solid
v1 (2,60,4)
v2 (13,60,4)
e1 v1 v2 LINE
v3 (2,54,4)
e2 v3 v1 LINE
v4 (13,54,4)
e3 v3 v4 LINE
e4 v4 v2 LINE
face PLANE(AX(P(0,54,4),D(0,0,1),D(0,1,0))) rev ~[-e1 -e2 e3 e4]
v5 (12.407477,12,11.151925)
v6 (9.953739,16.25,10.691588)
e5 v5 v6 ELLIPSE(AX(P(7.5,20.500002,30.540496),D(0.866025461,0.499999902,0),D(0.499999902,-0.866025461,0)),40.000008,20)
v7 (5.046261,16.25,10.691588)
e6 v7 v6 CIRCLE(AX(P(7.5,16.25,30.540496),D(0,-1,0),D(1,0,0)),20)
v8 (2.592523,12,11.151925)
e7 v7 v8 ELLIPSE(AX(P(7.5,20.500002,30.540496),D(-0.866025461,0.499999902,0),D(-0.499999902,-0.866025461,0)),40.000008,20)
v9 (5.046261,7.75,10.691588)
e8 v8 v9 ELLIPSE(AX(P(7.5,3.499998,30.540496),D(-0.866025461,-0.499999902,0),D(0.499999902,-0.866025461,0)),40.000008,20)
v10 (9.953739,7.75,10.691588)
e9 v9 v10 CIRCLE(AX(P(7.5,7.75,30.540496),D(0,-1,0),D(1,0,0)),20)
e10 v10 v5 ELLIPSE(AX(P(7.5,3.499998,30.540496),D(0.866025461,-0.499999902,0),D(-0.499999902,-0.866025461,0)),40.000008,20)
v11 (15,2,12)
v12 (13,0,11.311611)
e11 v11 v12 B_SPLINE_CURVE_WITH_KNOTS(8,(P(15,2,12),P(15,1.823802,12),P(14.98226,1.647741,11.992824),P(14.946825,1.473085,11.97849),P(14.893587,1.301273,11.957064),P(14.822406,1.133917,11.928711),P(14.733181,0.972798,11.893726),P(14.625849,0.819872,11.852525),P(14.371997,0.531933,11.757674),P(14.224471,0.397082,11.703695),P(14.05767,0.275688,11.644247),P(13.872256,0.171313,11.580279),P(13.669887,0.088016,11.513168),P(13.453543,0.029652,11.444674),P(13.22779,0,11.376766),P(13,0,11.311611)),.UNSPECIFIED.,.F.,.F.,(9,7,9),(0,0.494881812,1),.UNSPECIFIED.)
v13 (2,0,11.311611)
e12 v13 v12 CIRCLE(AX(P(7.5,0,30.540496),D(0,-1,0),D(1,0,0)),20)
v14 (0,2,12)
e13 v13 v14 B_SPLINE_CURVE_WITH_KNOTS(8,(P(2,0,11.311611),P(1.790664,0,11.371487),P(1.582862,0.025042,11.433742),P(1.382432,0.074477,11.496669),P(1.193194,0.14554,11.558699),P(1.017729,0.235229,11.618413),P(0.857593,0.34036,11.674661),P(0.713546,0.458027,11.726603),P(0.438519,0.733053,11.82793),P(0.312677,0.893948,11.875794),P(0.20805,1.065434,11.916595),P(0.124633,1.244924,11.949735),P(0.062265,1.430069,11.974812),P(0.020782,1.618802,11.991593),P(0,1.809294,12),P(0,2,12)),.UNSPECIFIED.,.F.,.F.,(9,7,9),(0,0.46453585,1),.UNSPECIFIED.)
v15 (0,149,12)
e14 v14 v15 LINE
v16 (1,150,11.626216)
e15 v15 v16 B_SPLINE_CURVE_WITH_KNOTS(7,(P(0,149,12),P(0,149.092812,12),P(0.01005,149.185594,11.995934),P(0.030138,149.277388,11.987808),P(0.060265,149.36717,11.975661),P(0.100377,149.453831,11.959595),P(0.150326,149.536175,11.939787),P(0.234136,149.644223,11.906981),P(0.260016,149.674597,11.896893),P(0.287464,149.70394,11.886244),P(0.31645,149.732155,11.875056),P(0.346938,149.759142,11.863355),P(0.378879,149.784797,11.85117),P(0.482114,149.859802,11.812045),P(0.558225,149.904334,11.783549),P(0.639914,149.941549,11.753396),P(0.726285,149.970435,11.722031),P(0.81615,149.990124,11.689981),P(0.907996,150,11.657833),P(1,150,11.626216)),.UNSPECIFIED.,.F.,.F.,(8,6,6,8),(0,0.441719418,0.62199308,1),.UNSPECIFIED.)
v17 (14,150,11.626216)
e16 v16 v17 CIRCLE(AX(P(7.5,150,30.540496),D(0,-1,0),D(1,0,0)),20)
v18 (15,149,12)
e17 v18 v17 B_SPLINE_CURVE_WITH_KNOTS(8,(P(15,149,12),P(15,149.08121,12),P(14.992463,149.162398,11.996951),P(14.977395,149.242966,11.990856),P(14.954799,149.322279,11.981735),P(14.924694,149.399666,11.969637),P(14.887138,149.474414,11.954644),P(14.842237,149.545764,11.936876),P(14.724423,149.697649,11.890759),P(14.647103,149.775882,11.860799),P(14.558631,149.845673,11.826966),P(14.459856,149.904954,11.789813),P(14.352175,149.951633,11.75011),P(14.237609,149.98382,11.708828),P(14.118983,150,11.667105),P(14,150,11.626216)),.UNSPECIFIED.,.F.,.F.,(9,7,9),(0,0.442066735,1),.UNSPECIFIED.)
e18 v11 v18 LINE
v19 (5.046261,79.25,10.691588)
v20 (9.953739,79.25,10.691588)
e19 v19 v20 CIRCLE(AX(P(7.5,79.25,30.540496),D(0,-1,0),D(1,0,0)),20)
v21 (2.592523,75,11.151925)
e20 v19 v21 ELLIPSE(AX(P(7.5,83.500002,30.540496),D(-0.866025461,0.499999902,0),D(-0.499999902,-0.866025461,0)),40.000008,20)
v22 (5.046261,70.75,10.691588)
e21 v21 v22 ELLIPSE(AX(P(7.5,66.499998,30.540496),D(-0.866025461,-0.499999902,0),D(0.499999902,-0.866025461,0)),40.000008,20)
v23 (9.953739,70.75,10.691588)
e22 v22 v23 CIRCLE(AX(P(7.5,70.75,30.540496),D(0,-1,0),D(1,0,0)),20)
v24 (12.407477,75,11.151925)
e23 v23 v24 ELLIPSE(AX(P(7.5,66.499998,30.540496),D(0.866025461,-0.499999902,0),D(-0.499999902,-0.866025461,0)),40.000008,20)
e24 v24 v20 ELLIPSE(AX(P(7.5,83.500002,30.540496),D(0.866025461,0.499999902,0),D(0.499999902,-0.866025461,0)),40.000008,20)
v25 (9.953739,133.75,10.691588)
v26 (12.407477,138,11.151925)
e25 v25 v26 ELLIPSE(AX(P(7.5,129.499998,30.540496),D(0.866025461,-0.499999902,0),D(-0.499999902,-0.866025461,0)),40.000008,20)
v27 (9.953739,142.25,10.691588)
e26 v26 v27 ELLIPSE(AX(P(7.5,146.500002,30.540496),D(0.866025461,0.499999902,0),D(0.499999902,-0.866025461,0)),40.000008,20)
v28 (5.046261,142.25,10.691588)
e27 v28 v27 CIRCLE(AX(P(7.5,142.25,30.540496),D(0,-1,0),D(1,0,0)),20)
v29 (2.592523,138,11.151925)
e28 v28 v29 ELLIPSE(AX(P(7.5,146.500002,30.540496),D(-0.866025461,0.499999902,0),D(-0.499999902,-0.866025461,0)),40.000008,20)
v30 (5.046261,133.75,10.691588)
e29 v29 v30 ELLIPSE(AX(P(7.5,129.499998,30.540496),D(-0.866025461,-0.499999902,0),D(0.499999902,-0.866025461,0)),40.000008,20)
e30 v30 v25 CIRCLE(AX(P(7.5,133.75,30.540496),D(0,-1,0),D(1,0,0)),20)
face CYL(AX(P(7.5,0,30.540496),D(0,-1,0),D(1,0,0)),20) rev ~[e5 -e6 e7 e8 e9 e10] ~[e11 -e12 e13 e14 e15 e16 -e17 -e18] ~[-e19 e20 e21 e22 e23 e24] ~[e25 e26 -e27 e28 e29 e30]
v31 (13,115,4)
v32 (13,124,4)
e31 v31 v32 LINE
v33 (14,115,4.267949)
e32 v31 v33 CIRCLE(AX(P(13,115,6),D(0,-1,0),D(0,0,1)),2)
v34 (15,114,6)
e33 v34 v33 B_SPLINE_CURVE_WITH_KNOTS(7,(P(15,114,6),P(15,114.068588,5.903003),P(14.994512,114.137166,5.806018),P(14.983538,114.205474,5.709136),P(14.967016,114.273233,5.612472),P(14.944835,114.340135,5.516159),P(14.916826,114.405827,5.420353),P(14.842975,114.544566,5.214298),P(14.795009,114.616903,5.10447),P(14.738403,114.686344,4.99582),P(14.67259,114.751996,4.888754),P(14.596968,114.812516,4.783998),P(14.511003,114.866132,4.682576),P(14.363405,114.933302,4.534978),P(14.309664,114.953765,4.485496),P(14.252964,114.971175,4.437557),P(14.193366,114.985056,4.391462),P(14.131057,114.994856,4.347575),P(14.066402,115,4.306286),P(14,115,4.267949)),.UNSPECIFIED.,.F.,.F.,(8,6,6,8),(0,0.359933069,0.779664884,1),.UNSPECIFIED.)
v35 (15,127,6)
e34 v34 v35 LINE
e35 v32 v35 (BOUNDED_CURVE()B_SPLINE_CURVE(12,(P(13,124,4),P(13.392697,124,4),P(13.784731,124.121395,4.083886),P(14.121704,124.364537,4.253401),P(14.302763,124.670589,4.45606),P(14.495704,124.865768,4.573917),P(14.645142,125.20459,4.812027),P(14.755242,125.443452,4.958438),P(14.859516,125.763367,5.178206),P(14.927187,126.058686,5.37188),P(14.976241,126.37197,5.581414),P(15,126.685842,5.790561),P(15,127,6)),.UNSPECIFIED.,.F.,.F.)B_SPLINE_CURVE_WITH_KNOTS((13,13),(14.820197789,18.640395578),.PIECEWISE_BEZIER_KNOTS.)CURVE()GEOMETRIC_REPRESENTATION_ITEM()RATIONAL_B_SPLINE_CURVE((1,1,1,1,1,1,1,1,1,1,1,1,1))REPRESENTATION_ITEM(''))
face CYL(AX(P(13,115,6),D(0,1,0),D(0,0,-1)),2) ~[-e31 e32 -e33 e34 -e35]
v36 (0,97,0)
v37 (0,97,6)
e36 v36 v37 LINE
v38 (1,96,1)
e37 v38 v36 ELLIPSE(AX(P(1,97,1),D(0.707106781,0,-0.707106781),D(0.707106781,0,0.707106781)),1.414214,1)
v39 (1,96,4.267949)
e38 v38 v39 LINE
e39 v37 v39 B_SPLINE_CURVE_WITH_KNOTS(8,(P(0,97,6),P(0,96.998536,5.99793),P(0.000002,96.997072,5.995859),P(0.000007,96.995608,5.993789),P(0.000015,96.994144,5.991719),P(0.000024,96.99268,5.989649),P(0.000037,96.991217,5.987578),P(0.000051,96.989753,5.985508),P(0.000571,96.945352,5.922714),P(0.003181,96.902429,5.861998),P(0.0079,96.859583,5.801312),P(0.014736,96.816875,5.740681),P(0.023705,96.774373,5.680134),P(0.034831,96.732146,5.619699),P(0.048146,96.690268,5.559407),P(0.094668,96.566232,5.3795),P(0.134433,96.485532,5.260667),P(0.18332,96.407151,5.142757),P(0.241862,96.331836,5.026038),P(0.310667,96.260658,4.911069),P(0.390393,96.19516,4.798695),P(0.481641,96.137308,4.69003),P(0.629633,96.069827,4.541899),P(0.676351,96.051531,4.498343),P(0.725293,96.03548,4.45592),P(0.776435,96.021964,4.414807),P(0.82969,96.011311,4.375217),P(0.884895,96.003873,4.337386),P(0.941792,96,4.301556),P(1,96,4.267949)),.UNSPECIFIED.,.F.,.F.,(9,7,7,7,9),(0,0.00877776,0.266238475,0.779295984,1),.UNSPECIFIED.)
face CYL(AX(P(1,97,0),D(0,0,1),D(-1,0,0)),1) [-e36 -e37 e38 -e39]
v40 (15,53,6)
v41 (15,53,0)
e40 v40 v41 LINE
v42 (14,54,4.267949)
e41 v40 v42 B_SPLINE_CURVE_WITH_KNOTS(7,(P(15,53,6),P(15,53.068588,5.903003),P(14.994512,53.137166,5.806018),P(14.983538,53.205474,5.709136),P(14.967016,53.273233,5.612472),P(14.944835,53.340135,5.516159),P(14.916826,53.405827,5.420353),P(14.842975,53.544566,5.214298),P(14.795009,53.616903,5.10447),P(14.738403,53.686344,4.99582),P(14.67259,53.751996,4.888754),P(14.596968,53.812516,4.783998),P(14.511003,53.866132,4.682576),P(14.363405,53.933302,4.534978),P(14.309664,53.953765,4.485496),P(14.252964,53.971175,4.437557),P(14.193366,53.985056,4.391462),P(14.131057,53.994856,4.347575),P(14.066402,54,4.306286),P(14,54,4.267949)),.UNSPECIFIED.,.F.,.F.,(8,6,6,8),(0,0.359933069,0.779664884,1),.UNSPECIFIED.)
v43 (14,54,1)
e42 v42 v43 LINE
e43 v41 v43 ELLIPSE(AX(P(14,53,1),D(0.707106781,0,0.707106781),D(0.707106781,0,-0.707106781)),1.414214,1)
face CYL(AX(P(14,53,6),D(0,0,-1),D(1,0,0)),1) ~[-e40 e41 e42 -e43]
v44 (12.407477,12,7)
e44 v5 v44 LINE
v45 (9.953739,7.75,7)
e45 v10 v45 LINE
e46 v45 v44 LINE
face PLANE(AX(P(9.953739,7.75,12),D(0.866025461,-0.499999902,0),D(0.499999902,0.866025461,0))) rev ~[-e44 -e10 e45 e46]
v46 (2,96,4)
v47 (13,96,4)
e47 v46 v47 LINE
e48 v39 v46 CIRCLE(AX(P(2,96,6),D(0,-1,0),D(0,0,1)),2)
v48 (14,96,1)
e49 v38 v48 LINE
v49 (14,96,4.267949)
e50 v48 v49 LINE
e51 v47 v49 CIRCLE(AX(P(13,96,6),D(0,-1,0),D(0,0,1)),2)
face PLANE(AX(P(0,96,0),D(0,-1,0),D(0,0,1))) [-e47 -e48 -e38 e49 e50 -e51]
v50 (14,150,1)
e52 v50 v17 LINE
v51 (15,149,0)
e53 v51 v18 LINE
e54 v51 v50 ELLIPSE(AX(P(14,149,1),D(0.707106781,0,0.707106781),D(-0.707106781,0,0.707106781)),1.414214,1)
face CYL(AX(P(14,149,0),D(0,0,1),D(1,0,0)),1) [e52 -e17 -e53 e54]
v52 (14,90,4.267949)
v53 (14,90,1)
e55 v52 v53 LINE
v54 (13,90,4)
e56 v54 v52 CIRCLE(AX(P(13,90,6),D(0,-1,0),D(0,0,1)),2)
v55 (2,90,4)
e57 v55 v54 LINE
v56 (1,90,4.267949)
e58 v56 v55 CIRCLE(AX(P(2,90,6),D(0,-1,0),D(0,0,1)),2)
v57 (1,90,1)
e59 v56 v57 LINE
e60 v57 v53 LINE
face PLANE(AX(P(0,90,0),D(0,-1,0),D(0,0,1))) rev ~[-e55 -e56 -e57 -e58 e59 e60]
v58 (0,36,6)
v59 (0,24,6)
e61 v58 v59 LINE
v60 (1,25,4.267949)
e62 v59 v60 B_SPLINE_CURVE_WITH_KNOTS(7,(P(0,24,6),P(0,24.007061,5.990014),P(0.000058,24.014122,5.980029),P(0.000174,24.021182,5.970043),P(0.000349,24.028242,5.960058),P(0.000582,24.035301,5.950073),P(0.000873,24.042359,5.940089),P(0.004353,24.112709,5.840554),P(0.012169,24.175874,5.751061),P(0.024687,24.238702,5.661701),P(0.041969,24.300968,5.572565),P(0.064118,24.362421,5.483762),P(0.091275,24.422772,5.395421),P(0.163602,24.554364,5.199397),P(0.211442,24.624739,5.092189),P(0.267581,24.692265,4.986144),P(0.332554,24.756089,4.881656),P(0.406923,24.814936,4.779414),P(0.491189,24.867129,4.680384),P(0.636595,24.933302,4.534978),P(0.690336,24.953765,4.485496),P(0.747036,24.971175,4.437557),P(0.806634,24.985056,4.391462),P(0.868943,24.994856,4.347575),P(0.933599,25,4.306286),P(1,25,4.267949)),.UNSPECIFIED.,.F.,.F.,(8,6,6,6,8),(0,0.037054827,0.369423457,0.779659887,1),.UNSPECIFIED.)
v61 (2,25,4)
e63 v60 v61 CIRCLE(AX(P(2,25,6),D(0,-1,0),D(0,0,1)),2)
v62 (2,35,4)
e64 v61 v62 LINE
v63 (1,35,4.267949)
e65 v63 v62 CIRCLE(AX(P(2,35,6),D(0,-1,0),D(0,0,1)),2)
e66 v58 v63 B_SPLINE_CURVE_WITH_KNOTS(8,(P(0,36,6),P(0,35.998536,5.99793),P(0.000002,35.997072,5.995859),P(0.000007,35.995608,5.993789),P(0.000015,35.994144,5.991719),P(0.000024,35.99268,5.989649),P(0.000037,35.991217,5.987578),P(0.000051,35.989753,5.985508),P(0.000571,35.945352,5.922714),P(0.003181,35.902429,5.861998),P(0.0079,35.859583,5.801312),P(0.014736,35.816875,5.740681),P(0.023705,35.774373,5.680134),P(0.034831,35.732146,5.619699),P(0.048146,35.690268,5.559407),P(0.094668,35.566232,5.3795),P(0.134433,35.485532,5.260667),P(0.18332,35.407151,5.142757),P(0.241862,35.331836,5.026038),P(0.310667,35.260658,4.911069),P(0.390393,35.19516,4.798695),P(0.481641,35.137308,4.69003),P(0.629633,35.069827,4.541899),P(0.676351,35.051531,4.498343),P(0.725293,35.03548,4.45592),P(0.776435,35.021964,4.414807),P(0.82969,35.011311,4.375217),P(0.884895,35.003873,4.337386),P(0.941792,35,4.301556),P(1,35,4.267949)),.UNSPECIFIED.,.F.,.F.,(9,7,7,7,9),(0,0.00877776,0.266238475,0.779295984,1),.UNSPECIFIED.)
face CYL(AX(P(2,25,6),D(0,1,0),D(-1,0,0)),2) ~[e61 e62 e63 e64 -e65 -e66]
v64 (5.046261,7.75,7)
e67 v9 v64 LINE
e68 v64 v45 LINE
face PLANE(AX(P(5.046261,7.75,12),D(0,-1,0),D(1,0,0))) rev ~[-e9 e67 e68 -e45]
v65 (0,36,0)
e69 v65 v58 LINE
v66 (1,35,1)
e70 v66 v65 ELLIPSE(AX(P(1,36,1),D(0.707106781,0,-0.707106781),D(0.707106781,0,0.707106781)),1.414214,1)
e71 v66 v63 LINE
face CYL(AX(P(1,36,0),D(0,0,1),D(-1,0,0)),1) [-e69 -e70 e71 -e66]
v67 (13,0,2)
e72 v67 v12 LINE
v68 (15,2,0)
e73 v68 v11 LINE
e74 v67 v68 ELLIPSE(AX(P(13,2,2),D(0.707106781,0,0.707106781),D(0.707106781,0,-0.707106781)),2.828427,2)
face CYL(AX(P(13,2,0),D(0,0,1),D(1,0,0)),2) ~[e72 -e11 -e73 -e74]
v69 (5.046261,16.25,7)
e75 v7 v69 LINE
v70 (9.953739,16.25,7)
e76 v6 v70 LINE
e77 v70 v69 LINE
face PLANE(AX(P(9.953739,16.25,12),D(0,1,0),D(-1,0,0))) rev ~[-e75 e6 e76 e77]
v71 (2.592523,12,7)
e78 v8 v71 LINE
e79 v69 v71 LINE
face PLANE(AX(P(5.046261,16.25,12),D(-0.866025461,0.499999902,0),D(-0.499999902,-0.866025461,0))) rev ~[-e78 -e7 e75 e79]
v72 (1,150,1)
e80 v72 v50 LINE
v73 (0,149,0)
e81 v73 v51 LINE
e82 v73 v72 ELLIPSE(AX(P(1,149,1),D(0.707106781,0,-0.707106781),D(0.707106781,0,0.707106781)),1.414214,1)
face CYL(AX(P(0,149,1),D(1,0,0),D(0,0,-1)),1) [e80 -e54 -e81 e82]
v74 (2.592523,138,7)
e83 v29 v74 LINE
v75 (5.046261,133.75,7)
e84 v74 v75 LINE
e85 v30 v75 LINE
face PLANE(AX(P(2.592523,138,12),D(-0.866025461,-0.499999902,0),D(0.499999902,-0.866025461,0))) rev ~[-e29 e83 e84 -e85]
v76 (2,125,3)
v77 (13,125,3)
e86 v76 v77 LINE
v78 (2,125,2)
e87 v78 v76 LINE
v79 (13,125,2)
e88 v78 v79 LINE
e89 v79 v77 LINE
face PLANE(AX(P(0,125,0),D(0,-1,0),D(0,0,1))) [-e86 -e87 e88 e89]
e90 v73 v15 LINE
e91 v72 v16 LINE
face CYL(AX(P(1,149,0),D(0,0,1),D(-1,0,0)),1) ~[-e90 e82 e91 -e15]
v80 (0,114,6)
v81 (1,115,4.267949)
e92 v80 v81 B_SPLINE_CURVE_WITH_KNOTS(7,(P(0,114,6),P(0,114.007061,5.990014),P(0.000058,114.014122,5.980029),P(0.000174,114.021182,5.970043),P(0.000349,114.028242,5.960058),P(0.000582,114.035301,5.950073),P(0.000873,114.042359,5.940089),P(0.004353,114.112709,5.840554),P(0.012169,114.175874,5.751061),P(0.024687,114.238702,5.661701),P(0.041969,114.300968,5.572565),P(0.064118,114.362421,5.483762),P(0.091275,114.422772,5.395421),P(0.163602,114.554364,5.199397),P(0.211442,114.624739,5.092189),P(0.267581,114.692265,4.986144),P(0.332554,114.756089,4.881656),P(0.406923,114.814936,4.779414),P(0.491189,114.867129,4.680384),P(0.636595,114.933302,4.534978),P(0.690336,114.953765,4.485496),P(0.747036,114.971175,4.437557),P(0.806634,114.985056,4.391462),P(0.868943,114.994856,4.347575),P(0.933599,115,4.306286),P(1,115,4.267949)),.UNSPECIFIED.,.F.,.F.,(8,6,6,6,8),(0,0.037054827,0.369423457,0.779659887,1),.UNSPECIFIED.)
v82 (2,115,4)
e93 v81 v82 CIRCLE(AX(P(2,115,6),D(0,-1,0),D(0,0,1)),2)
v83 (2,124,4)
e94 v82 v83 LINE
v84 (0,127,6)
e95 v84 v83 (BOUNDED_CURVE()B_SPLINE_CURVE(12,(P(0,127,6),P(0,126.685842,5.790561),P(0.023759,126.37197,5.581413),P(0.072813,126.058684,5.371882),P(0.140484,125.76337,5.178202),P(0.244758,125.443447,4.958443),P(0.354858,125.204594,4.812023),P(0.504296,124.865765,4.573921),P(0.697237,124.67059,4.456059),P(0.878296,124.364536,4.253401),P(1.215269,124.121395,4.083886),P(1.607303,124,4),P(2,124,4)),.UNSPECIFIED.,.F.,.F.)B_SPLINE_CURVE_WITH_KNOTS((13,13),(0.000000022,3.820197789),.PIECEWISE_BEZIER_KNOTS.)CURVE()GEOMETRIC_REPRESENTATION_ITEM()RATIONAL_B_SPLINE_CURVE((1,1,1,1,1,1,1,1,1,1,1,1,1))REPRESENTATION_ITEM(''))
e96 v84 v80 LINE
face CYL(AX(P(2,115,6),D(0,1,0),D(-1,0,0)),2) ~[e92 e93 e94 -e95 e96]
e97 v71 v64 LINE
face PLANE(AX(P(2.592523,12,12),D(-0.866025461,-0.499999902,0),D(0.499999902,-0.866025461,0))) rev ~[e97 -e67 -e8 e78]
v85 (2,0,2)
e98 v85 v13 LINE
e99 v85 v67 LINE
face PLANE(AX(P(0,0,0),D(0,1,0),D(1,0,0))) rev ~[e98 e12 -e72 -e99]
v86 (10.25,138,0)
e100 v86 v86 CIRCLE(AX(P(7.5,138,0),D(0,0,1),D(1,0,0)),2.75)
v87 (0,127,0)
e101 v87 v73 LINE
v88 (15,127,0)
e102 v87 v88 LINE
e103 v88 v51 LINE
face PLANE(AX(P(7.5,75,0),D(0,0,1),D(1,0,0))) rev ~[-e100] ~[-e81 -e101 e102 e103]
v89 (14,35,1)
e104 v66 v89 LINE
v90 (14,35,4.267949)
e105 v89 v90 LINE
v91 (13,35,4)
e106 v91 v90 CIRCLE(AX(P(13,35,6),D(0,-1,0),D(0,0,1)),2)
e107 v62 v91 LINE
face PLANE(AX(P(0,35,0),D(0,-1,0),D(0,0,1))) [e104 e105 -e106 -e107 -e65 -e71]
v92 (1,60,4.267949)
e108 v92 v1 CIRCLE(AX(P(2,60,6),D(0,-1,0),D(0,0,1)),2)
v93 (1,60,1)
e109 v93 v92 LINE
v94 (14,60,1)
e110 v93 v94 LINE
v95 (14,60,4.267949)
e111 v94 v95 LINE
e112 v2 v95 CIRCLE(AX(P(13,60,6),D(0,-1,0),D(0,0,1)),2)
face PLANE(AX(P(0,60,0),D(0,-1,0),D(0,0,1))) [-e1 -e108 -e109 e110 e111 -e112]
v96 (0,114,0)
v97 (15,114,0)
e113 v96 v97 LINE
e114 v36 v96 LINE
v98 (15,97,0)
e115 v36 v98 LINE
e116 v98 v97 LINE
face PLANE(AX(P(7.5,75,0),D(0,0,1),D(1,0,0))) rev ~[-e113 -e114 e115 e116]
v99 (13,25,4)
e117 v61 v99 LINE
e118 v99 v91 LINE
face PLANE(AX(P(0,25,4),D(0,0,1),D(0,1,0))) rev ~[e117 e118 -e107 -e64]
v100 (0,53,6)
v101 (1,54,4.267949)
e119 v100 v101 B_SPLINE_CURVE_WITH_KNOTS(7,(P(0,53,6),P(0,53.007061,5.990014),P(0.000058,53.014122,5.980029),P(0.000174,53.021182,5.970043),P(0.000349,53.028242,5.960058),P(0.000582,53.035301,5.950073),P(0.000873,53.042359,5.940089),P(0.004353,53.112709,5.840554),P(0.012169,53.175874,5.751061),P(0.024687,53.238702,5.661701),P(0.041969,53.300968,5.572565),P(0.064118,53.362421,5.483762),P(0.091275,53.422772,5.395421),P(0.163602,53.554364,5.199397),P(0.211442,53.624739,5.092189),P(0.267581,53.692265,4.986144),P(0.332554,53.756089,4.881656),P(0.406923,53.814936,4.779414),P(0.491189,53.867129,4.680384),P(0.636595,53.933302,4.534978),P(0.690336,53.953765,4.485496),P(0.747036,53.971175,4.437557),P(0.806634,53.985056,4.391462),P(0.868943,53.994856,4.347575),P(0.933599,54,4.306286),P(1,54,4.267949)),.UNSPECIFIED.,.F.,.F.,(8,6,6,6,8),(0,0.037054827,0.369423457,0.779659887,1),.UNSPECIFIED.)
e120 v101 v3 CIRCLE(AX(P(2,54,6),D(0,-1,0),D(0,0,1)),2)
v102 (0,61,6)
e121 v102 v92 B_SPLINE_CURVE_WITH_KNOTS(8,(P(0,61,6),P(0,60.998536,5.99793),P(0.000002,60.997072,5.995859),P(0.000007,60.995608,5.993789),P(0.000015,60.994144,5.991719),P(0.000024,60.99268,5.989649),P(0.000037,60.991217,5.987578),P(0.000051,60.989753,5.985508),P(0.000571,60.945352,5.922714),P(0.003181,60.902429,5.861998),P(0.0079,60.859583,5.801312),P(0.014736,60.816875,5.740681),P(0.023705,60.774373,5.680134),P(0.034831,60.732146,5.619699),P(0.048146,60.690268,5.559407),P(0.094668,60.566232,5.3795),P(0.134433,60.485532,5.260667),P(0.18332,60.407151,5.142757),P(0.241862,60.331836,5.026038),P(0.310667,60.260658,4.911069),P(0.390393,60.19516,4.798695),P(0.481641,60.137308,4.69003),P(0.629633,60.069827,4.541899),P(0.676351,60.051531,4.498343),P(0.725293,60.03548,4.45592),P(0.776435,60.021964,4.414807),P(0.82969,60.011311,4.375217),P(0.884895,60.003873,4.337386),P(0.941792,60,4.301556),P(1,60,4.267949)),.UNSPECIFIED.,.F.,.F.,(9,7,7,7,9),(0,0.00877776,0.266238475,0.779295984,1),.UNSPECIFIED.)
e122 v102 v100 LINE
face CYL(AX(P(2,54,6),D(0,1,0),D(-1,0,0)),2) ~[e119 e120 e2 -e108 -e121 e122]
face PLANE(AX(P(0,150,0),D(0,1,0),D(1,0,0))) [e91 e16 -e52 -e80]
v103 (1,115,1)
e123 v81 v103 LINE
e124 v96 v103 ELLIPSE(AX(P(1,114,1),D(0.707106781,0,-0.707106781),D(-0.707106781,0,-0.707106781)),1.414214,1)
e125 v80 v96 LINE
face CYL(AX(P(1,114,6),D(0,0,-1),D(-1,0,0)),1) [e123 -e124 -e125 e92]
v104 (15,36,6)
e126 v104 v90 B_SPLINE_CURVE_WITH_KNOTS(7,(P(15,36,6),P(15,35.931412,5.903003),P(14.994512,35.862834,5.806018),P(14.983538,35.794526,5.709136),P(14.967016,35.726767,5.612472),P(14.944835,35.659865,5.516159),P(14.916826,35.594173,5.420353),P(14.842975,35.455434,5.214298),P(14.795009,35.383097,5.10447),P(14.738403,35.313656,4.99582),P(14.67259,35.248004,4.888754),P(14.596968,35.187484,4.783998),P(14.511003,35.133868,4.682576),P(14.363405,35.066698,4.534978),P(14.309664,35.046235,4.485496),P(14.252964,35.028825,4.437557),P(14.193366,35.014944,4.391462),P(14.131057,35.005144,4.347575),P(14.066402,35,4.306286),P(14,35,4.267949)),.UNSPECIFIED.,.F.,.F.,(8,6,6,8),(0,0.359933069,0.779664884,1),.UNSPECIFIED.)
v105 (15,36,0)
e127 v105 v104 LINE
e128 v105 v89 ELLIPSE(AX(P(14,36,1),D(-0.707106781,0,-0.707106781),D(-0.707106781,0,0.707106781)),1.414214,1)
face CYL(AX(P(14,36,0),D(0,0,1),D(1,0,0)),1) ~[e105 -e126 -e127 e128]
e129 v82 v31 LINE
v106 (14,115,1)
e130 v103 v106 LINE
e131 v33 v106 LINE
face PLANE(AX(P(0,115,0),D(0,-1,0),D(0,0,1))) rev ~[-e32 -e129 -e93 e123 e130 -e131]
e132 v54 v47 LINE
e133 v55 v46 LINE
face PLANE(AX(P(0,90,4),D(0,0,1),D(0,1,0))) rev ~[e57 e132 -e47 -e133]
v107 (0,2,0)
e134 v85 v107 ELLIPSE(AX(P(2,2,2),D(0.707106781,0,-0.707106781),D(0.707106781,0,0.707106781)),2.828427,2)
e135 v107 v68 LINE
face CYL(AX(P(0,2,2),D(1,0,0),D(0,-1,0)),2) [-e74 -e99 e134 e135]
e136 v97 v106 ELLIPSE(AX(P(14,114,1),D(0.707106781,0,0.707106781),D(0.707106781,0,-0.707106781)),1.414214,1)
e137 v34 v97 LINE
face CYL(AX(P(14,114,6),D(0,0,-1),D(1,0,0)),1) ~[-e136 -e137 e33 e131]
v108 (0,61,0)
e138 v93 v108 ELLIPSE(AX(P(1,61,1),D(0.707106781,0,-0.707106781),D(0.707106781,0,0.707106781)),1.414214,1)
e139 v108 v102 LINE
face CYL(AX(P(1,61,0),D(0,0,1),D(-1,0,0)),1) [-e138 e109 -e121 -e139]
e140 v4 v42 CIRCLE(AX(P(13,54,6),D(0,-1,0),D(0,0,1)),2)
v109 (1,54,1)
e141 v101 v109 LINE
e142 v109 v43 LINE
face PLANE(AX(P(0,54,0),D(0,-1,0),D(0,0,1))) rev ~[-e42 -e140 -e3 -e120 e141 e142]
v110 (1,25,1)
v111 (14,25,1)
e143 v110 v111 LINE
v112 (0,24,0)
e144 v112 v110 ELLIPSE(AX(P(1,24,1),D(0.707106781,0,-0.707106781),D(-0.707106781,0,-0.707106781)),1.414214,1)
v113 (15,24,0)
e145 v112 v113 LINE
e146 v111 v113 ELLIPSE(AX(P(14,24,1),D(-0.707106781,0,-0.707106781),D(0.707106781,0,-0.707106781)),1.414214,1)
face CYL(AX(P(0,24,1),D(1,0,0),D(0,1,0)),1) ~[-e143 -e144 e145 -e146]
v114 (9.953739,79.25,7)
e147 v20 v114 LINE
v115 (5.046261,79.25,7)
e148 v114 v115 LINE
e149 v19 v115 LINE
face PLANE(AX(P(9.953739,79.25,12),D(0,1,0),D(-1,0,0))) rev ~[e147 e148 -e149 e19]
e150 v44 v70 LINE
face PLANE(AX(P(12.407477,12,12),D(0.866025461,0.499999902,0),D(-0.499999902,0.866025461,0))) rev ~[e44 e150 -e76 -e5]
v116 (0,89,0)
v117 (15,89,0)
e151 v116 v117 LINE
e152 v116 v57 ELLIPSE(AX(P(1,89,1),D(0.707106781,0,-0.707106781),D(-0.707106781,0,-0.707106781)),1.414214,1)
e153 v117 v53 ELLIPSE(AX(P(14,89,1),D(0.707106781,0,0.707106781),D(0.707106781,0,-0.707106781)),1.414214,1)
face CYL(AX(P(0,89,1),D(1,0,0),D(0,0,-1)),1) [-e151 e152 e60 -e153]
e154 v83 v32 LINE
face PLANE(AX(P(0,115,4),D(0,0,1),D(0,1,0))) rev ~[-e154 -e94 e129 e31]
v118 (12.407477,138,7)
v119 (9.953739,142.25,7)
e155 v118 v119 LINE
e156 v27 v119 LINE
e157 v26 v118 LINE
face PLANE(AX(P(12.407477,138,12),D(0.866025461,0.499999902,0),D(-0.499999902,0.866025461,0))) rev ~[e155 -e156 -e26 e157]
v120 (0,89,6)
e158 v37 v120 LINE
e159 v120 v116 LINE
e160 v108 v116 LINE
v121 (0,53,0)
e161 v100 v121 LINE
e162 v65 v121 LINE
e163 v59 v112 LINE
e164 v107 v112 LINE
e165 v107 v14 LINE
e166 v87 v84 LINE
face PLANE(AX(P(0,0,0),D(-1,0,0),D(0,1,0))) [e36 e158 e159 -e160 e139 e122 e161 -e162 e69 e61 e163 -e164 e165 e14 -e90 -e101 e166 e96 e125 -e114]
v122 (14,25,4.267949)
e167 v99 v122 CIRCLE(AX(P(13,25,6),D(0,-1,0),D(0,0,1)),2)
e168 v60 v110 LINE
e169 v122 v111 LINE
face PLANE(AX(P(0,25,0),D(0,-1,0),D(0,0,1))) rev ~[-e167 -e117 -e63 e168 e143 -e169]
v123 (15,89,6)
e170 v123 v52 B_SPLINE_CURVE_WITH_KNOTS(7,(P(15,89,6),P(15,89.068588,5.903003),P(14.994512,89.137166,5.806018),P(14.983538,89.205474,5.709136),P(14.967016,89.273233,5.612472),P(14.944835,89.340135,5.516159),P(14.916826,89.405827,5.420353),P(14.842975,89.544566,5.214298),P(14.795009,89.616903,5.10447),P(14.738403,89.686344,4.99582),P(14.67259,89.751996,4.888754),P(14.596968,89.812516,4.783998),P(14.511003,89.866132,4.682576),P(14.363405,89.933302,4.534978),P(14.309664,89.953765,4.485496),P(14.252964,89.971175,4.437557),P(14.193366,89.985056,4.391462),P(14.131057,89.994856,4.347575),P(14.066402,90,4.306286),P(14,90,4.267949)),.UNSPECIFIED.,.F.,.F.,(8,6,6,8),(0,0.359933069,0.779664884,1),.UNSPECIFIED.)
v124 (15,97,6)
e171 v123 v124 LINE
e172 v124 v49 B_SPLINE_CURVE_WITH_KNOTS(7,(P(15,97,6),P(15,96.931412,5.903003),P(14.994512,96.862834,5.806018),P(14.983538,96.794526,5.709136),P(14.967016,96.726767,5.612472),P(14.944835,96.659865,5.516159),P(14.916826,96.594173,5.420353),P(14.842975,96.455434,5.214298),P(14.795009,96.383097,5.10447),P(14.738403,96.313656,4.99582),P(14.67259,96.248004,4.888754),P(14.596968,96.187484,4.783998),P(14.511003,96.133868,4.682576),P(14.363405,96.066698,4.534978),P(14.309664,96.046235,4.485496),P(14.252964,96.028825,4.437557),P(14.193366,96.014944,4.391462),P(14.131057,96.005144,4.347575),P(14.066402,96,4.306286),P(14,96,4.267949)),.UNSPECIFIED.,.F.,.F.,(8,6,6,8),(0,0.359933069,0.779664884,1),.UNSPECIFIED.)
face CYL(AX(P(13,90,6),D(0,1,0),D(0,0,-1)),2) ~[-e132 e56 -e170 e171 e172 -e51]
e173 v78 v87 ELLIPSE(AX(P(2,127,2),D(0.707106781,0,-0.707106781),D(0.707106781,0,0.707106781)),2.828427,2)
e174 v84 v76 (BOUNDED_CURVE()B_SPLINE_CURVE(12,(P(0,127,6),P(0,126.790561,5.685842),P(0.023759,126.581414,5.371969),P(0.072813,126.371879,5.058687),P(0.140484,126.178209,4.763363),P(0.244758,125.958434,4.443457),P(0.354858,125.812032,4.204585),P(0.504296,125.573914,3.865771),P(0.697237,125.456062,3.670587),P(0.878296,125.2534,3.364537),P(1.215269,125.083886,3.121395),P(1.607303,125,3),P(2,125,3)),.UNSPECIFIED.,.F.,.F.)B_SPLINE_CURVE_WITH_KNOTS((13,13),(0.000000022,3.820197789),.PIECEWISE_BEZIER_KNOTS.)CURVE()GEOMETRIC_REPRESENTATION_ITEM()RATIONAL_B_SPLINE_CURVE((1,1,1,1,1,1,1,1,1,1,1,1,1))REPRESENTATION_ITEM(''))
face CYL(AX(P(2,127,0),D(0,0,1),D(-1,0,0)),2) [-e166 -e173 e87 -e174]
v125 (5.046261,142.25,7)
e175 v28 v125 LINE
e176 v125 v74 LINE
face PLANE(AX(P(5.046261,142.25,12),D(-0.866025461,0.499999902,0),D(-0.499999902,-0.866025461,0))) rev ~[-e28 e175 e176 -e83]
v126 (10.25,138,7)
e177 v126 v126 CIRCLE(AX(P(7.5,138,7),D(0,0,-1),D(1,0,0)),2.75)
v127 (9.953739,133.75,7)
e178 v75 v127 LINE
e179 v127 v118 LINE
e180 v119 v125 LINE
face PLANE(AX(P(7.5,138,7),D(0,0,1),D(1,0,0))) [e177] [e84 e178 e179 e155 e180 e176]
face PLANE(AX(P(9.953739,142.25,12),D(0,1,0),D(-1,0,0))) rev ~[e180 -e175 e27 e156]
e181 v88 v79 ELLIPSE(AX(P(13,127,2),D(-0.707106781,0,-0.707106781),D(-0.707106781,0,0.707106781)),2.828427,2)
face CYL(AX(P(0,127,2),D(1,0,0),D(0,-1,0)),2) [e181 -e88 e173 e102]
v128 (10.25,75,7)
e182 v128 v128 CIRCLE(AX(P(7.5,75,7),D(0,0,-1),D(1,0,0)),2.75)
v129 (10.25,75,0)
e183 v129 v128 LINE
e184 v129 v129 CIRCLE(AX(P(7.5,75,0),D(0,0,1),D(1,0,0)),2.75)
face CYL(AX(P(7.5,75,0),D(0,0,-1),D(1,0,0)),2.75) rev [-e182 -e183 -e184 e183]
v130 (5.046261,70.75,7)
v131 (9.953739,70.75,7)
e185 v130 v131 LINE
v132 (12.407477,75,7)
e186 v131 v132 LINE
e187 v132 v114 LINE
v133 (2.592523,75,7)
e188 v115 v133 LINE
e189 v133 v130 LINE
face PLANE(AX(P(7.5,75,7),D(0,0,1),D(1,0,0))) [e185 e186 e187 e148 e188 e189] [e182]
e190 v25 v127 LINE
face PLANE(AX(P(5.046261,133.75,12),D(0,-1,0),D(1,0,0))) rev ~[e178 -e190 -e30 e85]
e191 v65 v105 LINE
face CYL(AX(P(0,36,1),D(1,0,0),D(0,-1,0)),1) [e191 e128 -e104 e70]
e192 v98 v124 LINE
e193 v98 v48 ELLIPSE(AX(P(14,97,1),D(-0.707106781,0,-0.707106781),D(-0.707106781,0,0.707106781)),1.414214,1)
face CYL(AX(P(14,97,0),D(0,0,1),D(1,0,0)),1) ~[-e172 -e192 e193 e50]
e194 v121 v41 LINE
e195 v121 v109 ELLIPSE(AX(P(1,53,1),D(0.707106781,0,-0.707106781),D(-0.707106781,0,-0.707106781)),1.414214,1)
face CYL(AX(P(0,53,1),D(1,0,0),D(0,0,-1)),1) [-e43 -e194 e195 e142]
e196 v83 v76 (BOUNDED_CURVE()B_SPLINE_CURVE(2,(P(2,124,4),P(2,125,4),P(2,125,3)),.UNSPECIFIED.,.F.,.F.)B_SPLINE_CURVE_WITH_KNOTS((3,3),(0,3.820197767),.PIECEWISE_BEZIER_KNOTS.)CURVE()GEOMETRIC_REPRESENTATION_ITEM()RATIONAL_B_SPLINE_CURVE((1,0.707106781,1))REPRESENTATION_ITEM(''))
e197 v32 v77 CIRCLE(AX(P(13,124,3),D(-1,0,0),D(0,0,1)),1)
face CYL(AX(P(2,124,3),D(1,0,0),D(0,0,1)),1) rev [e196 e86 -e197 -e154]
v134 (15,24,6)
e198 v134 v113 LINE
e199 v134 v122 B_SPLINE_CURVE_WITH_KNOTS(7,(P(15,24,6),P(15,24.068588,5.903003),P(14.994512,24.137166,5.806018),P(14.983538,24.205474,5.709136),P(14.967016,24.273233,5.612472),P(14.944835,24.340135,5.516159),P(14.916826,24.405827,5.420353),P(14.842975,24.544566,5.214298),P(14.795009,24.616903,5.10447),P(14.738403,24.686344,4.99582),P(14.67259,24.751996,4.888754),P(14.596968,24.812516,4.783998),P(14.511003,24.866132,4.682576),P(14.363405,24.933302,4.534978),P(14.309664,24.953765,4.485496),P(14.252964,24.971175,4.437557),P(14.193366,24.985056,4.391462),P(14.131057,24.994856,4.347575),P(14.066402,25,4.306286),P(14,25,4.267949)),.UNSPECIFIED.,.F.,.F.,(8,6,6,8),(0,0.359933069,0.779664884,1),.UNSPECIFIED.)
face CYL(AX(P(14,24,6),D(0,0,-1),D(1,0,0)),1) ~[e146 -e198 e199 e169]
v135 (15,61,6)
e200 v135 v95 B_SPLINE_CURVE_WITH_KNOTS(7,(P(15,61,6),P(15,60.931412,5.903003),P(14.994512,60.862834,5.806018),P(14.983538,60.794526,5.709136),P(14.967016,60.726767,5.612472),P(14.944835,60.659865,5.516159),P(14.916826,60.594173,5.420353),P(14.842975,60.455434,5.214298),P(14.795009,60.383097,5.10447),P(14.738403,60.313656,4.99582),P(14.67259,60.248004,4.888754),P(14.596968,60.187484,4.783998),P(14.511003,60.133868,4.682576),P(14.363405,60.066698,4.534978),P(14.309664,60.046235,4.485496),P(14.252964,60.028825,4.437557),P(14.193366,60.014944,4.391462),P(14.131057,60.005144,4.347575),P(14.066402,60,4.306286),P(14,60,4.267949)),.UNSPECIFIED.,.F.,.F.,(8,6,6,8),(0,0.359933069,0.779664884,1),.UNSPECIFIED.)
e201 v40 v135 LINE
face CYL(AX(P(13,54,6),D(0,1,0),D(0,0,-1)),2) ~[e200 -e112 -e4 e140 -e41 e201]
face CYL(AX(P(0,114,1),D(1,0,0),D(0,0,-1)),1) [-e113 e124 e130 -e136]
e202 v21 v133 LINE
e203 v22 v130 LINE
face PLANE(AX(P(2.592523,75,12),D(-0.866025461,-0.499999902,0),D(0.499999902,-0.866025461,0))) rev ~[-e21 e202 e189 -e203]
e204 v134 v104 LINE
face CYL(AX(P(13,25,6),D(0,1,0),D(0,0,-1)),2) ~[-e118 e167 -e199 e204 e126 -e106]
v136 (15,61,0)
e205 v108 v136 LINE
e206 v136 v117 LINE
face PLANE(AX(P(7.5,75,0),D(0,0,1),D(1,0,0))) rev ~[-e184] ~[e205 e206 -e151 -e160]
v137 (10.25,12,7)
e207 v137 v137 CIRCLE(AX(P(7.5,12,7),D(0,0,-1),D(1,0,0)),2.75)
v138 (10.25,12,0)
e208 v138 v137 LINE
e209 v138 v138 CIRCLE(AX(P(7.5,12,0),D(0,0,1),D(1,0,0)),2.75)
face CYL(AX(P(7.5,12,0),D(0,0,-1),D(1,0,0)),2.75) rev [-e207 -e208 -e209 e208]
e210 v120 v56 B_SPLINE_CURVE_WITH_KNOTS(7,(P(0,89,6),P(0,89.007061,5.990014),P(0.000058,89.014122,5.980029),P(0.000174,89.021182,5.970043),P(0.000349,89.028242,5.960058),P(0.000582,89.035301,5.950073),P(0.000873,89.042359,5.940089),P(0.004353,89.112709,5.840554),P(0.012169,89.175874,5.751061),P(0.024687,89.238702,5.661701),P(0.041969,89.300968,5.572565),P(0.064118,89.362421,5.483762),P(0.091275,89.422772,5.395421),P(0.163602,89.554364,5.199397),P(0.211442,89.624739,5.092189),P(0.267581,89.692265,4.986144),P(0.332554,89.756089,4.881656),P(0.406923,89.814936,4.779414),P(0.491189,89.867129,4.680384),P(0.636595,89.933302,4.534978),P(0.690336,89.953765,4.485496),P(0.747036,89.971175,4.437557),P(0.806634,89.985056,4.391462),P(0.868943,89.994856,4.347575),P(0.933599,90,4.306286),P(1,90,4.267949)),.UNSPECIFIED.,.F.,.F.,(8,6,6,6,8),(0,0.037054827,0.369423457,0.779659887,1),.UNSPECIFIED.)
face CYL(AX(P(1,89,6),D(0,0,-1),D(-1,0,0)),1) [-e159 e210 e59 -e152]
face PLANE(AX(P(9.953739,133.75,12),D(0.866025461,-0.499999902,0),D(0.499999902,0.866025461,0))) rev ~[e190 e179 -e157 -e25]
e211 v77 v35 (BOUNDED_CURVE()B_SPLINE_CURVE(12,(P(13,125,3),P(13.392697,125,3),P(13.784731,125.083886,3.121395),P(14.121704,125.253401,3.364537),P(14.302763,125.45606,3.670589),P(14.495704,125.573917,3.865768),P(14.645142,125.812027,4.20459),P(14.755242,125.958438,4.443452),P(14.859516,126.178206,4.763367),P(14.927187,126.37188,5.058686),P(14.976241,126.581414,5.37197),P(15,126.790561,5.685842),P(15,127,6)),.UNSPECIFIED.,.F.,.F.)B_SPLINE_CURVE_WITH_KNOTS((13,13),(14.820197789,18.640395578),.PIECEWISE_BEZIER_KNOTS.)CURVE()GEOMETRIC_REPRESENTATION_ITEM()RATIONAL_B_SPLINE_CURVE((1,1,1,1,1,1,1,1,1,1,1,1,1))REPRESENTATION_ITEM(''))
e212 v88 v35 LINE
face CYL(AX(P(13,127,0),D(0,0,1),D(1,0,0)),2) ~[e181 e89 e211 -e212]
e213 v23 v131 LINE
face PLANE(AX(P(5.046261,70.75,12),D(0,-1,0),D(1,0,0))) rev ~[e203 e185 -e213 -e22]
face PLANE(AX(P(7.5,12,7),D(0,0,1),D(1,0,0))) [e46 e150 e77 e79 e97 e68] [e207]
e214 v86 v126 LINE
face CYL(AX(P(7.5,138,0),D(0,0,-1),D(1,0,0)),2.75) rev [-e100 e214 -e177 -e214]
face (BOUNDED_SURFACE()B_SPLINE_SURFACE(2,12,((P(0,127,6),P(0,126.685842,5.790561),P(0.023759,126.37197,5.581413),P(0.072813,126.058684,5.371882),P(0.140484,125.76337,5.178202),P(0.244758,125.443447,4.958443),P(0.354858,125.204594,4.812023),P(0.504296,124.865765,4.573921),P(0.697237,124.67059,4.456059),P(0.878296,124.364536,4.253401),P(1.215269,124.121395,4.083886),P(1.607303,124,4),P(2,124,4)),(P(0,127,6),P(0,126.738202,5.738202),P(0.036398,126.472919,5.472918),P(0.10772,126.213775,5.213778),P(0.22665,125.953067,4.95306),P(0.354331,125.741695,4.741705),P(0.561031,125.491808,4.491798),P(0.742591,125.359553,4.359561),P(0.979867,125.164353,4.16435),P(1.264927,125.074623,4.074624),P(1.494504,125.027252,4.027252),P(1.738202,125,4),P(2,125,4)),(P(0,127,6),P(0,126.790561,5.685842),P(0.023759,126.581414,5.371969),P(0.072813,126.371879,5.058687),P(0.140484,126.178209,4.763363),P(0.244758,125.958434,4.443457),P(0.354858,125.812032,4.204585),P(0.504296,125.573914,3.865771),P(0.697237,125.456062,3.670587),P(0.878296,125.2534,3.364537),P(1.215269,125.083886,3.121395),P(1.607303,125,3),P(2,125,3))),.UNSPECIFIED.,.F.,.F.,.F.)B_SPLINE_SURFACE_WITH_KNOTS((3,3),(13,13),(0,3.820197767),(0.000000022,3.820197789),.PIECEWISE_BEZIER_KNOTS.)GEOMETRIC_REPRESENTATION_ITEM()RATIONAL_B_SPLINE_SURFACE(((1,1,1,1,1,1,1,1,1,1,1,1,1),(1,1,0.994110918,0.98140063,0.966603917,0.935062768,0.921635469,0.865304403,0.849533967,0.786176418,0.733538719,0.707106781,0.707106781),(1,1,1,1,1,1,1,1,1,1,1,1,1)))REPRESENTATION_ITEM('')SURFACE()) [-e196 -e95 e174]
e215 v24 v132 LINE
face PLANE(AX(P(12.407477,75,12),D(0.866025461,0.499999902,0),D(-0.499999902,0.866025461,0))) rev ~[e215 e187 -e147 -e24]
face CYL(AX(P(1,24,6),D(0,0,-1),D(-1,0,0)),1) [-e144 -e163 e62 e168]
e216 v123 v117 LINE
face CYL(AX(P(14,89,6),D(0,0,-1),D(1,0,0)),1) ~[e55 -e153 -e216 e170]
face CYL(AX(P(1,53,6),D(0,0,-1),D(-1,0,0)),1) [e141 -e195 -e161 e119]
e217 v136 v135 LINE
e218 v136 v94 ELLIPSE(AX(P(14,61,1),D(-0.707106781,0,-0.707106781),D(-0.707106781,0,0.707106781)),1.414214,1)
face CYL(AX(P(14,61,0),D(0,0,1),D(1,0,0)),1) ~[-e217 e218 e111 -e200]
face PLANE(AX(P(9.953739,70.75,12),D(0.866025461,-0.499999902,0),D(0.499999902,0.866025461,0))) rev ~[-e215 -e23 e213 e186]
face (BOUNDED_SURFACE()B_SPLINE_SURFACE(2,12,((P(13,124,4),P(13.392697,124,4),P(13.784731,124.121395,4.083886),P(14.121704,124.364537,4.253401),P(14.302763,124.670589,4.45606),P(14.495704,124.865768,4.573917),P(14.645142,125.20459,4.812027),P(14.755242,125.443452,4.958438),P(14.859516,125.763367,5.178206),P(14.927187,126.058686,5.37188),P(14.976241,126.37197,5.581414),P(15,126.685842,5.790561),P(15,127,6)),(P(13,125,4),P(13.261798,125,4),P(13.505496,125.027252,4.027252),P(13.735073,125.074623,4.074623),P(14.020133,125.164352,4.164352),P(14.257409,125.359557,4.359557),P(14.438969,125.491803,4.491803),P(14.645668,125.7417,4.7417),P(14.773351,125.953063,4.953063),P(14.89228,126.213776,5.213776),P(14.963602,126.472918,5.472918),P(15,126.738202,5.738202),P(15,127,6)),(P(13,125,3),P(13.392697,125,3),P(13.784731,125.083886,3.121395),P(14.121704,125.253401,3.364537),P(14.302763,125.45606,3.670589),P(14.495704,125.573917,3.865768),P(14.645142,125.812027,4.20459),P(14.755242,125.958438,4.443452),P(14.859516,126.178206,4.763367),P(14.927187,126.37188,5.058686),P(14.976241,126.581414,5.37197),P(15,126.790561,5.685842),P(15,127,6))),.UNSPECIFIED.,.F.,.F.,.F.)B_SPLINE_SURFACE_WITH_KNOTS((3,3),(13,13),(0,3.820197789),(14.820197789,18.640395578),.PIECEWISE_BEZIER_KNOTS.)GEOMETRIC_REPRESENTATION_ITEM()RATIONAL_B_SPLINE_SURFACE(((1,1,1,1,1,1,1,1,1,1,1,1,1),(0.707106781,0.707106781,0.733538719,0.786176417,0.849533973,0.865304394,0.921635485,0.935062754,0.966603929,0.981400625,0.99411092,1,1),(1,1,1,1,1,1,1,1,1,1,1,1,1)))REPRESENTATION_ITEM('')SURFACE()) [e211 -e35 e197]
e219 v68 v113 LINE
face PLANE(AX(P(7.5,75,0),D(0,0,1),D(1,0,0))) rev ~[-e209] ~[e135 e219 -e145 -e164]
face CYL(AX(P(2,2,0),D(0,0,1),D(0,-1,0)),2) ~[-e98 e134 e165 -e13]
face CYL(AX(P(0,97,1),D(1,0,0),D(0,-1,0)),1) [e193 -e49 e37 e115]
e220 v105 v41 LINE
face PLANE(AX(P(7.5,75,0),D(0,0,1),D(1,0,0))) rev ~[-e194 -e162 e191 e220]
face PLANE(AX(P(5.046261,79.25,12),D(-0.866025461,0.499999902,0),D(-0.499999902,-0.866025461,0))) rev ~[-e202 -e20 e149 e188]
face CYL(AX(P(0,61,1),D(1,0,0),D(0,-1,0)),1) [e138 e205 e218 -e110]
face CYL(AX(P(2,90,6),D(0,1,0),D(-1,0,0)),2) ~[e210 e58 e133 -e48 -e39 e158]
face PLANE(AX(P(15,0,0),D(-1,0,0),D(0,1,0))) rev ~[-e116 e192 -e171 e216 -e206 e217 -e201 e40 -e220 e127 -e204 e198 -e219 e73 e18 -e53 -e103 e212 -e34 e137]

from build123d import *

# Parameters (mm, degrees)
SKETCH_W        = 15
SKETCH_H        = 150
SKETCH_R        = 2.75
PAD_DEPTH       = 12
SKETCH003_W     = 10
SKETCH003_H     = 4
SKETCH003_W_2   = 6
POCKET002_DEPTH = 15.001
SKETCH004_R     = 20
POCKET003_DEPTH = 150.001
POCKET_DEPTH    = 5
FILLET_R        = 2
FILLET001_R     = 2
FILLET002_R     = 1
FILLET003_R     = 1
FILLET004_R     = 1
FILLET005_R     = 1
FILLET006_R     = 1
FILLET007_R     = 2


with BuildPart() as part:
    # Sketch → Pad (new body)
    with BuildSketch(Plane.XY):
        with Locations((7.5, 75)):
            Rectangle(SKETCH_W, SKETCH_H)
        with Locations((7.5, 138)):
            Circle(SKETCH_R, mode=Mode.SUBTRACT)
        with Locations((7.5, 75)):
            Circle(SKETCH_R, mode=Mode.SUBTRACT)
        with Locations((7.5, 12)):
            Circle(SKETCH_R, mode=Mode.SUBTRACT)
    extrude(amount=PAD_DEPTH)

    # Sketch003 → Pocket002 (cut, through all)
    with BuildSketch(Plane.YZ):
        with Locations((30, 2)):
            Rectangle(SKETCH003_W, SKETCH003_H)
        with Locations((57, 2)):
            Rectangle(SKETCH003_W_2, SKETCH003_H)
        with Locations((120, 2)):
            Rectangle(SKETCH003_W, SKETCH003_H)
        with Locations((93, 2)):
            Rectangle(SKETCH003_W_2, SKETCH003_H)
    extrude(amount=POCKET002_DEPTH, mode=Mode.SUBTRACT)

    # Sketch004 → Pocket003 (cut, through all)
    with BuildSketch(Plane.XZ):
        with Locations((7.5, 30.540496)):
            Circle(SKETCH004_R)
    extrude(amount=-POCKET003_DEPTH, mode=Mode.SUBTRACT)

    # Sketch005 → Pocket (cut)
    with BuildSketch(Plane.XY.offset(12)):
        Polygon((9.953739, 133.75), (12.407477, 138), (9.953739, 142.25), (5.046261, 142.25), (2.592523, 138), (5.046261, 133.75), align=None)
        Polygon((9.953739, 70.75), (12.407477, 75), (9.953739, 79.25), (5.046261, 79.25), (2.592523, 75), (5.046261, 70.75), align=None)
        Polygon((9.953739, 16.25), (5.046261, 16.25), (2.592523, 12), (5.046261, 7.75), (9.953739, 7.75), (12.407477, 12), align=None)
    extrude(amount=-POCKET_DEPTH, mode=Mode.SUBTRACT)

    # Fillet
    fillet_edges = [part.edges().sort_by_distance(p)[0] for p in [
        (15, 120, 4),
        (0, 120, 4),
        (15, 93, 4),
        (0, 93, 4),
        (15, 57, 4),
        (0, 57, 4),
        (15, 30, 4),
        (0, 30, 4),
    ]]
    fillet(fillet_edges, radius=FILLET_R)

    # Fillet001
    fillet001_edges = [part.edges().sort_by_distance(p)[0] for p in [
        (15, 125, 2),
        (7.5, 125, 0),
        (0, 125, 2),
    ]]
    fillet(fillet001_edges, radius=FILLET001_R)

    # Fillet002
    fillet002_edges = [part.edges().sort_by_distance(p)[0] for p in [
        (7.5, 125, 4),
    ]]
    fillet(fillet002_edges, radius=FILLET002_R)

    # Fillet003
    fillet003_edges = [part.edges().sort_by_distance(p)[0] for p in [
        (0, 25, 2),
        (7.5, 25, 0),
        (15, 25, 2),
    ]]
    fillet(fillet003_edges, radius=FILLET003_R)

    # Fillet004
    fillet004_edges = [part.edges().sort_by_distance(p)[0] for p in [
        (0, 54, 2),
        (7.5, 54, 0),
        (15, 54, 2),
        (0, 90, 2),
        (7.5, 90, 0),
        (15, 90, 2),
        (0, 115, 2),
        (7.5, 115, 0),
        (15, 115, 2),
    ]]
    fillet(fillet004_edges, radius=FILLET004_R)

    # Fillet005
    fillet005_edges = [part.edges().sort_by_distance(p)[0] for p in [
        (15, 96, 2),
        (7.5, 96, 0),
        (0, 96, 2),
        (15, 60, 2),
        (7.5, 60, 0),
        (0, 60, 2),
        (15, 35, 2),
        (7.5, 35, 0),
        (0, 35, 2),
    ]]
    fillet(fillet005_edges, radius=FILLET005_R)

    # Fillet006
    fillet006_edges = [part.edges().sort_by_distance(p)[0] for p in [
        (15, 150, 6),
        (7.5, 150, 0),
        (0, 150, 6),
    ]]
    fillet(fillet006_edges, radius=FILLET006_R)

    # Fillet007
    fillet007_edges = [part.edges().sort_by_distance(p)[0] for p in [
        (0, 0, 6),
        (7.5, 0, 0),
        (15, 0, 6),
    ]]
    fillet(fillet007_edges, radius=FILLET007_R)


solid = part.part
